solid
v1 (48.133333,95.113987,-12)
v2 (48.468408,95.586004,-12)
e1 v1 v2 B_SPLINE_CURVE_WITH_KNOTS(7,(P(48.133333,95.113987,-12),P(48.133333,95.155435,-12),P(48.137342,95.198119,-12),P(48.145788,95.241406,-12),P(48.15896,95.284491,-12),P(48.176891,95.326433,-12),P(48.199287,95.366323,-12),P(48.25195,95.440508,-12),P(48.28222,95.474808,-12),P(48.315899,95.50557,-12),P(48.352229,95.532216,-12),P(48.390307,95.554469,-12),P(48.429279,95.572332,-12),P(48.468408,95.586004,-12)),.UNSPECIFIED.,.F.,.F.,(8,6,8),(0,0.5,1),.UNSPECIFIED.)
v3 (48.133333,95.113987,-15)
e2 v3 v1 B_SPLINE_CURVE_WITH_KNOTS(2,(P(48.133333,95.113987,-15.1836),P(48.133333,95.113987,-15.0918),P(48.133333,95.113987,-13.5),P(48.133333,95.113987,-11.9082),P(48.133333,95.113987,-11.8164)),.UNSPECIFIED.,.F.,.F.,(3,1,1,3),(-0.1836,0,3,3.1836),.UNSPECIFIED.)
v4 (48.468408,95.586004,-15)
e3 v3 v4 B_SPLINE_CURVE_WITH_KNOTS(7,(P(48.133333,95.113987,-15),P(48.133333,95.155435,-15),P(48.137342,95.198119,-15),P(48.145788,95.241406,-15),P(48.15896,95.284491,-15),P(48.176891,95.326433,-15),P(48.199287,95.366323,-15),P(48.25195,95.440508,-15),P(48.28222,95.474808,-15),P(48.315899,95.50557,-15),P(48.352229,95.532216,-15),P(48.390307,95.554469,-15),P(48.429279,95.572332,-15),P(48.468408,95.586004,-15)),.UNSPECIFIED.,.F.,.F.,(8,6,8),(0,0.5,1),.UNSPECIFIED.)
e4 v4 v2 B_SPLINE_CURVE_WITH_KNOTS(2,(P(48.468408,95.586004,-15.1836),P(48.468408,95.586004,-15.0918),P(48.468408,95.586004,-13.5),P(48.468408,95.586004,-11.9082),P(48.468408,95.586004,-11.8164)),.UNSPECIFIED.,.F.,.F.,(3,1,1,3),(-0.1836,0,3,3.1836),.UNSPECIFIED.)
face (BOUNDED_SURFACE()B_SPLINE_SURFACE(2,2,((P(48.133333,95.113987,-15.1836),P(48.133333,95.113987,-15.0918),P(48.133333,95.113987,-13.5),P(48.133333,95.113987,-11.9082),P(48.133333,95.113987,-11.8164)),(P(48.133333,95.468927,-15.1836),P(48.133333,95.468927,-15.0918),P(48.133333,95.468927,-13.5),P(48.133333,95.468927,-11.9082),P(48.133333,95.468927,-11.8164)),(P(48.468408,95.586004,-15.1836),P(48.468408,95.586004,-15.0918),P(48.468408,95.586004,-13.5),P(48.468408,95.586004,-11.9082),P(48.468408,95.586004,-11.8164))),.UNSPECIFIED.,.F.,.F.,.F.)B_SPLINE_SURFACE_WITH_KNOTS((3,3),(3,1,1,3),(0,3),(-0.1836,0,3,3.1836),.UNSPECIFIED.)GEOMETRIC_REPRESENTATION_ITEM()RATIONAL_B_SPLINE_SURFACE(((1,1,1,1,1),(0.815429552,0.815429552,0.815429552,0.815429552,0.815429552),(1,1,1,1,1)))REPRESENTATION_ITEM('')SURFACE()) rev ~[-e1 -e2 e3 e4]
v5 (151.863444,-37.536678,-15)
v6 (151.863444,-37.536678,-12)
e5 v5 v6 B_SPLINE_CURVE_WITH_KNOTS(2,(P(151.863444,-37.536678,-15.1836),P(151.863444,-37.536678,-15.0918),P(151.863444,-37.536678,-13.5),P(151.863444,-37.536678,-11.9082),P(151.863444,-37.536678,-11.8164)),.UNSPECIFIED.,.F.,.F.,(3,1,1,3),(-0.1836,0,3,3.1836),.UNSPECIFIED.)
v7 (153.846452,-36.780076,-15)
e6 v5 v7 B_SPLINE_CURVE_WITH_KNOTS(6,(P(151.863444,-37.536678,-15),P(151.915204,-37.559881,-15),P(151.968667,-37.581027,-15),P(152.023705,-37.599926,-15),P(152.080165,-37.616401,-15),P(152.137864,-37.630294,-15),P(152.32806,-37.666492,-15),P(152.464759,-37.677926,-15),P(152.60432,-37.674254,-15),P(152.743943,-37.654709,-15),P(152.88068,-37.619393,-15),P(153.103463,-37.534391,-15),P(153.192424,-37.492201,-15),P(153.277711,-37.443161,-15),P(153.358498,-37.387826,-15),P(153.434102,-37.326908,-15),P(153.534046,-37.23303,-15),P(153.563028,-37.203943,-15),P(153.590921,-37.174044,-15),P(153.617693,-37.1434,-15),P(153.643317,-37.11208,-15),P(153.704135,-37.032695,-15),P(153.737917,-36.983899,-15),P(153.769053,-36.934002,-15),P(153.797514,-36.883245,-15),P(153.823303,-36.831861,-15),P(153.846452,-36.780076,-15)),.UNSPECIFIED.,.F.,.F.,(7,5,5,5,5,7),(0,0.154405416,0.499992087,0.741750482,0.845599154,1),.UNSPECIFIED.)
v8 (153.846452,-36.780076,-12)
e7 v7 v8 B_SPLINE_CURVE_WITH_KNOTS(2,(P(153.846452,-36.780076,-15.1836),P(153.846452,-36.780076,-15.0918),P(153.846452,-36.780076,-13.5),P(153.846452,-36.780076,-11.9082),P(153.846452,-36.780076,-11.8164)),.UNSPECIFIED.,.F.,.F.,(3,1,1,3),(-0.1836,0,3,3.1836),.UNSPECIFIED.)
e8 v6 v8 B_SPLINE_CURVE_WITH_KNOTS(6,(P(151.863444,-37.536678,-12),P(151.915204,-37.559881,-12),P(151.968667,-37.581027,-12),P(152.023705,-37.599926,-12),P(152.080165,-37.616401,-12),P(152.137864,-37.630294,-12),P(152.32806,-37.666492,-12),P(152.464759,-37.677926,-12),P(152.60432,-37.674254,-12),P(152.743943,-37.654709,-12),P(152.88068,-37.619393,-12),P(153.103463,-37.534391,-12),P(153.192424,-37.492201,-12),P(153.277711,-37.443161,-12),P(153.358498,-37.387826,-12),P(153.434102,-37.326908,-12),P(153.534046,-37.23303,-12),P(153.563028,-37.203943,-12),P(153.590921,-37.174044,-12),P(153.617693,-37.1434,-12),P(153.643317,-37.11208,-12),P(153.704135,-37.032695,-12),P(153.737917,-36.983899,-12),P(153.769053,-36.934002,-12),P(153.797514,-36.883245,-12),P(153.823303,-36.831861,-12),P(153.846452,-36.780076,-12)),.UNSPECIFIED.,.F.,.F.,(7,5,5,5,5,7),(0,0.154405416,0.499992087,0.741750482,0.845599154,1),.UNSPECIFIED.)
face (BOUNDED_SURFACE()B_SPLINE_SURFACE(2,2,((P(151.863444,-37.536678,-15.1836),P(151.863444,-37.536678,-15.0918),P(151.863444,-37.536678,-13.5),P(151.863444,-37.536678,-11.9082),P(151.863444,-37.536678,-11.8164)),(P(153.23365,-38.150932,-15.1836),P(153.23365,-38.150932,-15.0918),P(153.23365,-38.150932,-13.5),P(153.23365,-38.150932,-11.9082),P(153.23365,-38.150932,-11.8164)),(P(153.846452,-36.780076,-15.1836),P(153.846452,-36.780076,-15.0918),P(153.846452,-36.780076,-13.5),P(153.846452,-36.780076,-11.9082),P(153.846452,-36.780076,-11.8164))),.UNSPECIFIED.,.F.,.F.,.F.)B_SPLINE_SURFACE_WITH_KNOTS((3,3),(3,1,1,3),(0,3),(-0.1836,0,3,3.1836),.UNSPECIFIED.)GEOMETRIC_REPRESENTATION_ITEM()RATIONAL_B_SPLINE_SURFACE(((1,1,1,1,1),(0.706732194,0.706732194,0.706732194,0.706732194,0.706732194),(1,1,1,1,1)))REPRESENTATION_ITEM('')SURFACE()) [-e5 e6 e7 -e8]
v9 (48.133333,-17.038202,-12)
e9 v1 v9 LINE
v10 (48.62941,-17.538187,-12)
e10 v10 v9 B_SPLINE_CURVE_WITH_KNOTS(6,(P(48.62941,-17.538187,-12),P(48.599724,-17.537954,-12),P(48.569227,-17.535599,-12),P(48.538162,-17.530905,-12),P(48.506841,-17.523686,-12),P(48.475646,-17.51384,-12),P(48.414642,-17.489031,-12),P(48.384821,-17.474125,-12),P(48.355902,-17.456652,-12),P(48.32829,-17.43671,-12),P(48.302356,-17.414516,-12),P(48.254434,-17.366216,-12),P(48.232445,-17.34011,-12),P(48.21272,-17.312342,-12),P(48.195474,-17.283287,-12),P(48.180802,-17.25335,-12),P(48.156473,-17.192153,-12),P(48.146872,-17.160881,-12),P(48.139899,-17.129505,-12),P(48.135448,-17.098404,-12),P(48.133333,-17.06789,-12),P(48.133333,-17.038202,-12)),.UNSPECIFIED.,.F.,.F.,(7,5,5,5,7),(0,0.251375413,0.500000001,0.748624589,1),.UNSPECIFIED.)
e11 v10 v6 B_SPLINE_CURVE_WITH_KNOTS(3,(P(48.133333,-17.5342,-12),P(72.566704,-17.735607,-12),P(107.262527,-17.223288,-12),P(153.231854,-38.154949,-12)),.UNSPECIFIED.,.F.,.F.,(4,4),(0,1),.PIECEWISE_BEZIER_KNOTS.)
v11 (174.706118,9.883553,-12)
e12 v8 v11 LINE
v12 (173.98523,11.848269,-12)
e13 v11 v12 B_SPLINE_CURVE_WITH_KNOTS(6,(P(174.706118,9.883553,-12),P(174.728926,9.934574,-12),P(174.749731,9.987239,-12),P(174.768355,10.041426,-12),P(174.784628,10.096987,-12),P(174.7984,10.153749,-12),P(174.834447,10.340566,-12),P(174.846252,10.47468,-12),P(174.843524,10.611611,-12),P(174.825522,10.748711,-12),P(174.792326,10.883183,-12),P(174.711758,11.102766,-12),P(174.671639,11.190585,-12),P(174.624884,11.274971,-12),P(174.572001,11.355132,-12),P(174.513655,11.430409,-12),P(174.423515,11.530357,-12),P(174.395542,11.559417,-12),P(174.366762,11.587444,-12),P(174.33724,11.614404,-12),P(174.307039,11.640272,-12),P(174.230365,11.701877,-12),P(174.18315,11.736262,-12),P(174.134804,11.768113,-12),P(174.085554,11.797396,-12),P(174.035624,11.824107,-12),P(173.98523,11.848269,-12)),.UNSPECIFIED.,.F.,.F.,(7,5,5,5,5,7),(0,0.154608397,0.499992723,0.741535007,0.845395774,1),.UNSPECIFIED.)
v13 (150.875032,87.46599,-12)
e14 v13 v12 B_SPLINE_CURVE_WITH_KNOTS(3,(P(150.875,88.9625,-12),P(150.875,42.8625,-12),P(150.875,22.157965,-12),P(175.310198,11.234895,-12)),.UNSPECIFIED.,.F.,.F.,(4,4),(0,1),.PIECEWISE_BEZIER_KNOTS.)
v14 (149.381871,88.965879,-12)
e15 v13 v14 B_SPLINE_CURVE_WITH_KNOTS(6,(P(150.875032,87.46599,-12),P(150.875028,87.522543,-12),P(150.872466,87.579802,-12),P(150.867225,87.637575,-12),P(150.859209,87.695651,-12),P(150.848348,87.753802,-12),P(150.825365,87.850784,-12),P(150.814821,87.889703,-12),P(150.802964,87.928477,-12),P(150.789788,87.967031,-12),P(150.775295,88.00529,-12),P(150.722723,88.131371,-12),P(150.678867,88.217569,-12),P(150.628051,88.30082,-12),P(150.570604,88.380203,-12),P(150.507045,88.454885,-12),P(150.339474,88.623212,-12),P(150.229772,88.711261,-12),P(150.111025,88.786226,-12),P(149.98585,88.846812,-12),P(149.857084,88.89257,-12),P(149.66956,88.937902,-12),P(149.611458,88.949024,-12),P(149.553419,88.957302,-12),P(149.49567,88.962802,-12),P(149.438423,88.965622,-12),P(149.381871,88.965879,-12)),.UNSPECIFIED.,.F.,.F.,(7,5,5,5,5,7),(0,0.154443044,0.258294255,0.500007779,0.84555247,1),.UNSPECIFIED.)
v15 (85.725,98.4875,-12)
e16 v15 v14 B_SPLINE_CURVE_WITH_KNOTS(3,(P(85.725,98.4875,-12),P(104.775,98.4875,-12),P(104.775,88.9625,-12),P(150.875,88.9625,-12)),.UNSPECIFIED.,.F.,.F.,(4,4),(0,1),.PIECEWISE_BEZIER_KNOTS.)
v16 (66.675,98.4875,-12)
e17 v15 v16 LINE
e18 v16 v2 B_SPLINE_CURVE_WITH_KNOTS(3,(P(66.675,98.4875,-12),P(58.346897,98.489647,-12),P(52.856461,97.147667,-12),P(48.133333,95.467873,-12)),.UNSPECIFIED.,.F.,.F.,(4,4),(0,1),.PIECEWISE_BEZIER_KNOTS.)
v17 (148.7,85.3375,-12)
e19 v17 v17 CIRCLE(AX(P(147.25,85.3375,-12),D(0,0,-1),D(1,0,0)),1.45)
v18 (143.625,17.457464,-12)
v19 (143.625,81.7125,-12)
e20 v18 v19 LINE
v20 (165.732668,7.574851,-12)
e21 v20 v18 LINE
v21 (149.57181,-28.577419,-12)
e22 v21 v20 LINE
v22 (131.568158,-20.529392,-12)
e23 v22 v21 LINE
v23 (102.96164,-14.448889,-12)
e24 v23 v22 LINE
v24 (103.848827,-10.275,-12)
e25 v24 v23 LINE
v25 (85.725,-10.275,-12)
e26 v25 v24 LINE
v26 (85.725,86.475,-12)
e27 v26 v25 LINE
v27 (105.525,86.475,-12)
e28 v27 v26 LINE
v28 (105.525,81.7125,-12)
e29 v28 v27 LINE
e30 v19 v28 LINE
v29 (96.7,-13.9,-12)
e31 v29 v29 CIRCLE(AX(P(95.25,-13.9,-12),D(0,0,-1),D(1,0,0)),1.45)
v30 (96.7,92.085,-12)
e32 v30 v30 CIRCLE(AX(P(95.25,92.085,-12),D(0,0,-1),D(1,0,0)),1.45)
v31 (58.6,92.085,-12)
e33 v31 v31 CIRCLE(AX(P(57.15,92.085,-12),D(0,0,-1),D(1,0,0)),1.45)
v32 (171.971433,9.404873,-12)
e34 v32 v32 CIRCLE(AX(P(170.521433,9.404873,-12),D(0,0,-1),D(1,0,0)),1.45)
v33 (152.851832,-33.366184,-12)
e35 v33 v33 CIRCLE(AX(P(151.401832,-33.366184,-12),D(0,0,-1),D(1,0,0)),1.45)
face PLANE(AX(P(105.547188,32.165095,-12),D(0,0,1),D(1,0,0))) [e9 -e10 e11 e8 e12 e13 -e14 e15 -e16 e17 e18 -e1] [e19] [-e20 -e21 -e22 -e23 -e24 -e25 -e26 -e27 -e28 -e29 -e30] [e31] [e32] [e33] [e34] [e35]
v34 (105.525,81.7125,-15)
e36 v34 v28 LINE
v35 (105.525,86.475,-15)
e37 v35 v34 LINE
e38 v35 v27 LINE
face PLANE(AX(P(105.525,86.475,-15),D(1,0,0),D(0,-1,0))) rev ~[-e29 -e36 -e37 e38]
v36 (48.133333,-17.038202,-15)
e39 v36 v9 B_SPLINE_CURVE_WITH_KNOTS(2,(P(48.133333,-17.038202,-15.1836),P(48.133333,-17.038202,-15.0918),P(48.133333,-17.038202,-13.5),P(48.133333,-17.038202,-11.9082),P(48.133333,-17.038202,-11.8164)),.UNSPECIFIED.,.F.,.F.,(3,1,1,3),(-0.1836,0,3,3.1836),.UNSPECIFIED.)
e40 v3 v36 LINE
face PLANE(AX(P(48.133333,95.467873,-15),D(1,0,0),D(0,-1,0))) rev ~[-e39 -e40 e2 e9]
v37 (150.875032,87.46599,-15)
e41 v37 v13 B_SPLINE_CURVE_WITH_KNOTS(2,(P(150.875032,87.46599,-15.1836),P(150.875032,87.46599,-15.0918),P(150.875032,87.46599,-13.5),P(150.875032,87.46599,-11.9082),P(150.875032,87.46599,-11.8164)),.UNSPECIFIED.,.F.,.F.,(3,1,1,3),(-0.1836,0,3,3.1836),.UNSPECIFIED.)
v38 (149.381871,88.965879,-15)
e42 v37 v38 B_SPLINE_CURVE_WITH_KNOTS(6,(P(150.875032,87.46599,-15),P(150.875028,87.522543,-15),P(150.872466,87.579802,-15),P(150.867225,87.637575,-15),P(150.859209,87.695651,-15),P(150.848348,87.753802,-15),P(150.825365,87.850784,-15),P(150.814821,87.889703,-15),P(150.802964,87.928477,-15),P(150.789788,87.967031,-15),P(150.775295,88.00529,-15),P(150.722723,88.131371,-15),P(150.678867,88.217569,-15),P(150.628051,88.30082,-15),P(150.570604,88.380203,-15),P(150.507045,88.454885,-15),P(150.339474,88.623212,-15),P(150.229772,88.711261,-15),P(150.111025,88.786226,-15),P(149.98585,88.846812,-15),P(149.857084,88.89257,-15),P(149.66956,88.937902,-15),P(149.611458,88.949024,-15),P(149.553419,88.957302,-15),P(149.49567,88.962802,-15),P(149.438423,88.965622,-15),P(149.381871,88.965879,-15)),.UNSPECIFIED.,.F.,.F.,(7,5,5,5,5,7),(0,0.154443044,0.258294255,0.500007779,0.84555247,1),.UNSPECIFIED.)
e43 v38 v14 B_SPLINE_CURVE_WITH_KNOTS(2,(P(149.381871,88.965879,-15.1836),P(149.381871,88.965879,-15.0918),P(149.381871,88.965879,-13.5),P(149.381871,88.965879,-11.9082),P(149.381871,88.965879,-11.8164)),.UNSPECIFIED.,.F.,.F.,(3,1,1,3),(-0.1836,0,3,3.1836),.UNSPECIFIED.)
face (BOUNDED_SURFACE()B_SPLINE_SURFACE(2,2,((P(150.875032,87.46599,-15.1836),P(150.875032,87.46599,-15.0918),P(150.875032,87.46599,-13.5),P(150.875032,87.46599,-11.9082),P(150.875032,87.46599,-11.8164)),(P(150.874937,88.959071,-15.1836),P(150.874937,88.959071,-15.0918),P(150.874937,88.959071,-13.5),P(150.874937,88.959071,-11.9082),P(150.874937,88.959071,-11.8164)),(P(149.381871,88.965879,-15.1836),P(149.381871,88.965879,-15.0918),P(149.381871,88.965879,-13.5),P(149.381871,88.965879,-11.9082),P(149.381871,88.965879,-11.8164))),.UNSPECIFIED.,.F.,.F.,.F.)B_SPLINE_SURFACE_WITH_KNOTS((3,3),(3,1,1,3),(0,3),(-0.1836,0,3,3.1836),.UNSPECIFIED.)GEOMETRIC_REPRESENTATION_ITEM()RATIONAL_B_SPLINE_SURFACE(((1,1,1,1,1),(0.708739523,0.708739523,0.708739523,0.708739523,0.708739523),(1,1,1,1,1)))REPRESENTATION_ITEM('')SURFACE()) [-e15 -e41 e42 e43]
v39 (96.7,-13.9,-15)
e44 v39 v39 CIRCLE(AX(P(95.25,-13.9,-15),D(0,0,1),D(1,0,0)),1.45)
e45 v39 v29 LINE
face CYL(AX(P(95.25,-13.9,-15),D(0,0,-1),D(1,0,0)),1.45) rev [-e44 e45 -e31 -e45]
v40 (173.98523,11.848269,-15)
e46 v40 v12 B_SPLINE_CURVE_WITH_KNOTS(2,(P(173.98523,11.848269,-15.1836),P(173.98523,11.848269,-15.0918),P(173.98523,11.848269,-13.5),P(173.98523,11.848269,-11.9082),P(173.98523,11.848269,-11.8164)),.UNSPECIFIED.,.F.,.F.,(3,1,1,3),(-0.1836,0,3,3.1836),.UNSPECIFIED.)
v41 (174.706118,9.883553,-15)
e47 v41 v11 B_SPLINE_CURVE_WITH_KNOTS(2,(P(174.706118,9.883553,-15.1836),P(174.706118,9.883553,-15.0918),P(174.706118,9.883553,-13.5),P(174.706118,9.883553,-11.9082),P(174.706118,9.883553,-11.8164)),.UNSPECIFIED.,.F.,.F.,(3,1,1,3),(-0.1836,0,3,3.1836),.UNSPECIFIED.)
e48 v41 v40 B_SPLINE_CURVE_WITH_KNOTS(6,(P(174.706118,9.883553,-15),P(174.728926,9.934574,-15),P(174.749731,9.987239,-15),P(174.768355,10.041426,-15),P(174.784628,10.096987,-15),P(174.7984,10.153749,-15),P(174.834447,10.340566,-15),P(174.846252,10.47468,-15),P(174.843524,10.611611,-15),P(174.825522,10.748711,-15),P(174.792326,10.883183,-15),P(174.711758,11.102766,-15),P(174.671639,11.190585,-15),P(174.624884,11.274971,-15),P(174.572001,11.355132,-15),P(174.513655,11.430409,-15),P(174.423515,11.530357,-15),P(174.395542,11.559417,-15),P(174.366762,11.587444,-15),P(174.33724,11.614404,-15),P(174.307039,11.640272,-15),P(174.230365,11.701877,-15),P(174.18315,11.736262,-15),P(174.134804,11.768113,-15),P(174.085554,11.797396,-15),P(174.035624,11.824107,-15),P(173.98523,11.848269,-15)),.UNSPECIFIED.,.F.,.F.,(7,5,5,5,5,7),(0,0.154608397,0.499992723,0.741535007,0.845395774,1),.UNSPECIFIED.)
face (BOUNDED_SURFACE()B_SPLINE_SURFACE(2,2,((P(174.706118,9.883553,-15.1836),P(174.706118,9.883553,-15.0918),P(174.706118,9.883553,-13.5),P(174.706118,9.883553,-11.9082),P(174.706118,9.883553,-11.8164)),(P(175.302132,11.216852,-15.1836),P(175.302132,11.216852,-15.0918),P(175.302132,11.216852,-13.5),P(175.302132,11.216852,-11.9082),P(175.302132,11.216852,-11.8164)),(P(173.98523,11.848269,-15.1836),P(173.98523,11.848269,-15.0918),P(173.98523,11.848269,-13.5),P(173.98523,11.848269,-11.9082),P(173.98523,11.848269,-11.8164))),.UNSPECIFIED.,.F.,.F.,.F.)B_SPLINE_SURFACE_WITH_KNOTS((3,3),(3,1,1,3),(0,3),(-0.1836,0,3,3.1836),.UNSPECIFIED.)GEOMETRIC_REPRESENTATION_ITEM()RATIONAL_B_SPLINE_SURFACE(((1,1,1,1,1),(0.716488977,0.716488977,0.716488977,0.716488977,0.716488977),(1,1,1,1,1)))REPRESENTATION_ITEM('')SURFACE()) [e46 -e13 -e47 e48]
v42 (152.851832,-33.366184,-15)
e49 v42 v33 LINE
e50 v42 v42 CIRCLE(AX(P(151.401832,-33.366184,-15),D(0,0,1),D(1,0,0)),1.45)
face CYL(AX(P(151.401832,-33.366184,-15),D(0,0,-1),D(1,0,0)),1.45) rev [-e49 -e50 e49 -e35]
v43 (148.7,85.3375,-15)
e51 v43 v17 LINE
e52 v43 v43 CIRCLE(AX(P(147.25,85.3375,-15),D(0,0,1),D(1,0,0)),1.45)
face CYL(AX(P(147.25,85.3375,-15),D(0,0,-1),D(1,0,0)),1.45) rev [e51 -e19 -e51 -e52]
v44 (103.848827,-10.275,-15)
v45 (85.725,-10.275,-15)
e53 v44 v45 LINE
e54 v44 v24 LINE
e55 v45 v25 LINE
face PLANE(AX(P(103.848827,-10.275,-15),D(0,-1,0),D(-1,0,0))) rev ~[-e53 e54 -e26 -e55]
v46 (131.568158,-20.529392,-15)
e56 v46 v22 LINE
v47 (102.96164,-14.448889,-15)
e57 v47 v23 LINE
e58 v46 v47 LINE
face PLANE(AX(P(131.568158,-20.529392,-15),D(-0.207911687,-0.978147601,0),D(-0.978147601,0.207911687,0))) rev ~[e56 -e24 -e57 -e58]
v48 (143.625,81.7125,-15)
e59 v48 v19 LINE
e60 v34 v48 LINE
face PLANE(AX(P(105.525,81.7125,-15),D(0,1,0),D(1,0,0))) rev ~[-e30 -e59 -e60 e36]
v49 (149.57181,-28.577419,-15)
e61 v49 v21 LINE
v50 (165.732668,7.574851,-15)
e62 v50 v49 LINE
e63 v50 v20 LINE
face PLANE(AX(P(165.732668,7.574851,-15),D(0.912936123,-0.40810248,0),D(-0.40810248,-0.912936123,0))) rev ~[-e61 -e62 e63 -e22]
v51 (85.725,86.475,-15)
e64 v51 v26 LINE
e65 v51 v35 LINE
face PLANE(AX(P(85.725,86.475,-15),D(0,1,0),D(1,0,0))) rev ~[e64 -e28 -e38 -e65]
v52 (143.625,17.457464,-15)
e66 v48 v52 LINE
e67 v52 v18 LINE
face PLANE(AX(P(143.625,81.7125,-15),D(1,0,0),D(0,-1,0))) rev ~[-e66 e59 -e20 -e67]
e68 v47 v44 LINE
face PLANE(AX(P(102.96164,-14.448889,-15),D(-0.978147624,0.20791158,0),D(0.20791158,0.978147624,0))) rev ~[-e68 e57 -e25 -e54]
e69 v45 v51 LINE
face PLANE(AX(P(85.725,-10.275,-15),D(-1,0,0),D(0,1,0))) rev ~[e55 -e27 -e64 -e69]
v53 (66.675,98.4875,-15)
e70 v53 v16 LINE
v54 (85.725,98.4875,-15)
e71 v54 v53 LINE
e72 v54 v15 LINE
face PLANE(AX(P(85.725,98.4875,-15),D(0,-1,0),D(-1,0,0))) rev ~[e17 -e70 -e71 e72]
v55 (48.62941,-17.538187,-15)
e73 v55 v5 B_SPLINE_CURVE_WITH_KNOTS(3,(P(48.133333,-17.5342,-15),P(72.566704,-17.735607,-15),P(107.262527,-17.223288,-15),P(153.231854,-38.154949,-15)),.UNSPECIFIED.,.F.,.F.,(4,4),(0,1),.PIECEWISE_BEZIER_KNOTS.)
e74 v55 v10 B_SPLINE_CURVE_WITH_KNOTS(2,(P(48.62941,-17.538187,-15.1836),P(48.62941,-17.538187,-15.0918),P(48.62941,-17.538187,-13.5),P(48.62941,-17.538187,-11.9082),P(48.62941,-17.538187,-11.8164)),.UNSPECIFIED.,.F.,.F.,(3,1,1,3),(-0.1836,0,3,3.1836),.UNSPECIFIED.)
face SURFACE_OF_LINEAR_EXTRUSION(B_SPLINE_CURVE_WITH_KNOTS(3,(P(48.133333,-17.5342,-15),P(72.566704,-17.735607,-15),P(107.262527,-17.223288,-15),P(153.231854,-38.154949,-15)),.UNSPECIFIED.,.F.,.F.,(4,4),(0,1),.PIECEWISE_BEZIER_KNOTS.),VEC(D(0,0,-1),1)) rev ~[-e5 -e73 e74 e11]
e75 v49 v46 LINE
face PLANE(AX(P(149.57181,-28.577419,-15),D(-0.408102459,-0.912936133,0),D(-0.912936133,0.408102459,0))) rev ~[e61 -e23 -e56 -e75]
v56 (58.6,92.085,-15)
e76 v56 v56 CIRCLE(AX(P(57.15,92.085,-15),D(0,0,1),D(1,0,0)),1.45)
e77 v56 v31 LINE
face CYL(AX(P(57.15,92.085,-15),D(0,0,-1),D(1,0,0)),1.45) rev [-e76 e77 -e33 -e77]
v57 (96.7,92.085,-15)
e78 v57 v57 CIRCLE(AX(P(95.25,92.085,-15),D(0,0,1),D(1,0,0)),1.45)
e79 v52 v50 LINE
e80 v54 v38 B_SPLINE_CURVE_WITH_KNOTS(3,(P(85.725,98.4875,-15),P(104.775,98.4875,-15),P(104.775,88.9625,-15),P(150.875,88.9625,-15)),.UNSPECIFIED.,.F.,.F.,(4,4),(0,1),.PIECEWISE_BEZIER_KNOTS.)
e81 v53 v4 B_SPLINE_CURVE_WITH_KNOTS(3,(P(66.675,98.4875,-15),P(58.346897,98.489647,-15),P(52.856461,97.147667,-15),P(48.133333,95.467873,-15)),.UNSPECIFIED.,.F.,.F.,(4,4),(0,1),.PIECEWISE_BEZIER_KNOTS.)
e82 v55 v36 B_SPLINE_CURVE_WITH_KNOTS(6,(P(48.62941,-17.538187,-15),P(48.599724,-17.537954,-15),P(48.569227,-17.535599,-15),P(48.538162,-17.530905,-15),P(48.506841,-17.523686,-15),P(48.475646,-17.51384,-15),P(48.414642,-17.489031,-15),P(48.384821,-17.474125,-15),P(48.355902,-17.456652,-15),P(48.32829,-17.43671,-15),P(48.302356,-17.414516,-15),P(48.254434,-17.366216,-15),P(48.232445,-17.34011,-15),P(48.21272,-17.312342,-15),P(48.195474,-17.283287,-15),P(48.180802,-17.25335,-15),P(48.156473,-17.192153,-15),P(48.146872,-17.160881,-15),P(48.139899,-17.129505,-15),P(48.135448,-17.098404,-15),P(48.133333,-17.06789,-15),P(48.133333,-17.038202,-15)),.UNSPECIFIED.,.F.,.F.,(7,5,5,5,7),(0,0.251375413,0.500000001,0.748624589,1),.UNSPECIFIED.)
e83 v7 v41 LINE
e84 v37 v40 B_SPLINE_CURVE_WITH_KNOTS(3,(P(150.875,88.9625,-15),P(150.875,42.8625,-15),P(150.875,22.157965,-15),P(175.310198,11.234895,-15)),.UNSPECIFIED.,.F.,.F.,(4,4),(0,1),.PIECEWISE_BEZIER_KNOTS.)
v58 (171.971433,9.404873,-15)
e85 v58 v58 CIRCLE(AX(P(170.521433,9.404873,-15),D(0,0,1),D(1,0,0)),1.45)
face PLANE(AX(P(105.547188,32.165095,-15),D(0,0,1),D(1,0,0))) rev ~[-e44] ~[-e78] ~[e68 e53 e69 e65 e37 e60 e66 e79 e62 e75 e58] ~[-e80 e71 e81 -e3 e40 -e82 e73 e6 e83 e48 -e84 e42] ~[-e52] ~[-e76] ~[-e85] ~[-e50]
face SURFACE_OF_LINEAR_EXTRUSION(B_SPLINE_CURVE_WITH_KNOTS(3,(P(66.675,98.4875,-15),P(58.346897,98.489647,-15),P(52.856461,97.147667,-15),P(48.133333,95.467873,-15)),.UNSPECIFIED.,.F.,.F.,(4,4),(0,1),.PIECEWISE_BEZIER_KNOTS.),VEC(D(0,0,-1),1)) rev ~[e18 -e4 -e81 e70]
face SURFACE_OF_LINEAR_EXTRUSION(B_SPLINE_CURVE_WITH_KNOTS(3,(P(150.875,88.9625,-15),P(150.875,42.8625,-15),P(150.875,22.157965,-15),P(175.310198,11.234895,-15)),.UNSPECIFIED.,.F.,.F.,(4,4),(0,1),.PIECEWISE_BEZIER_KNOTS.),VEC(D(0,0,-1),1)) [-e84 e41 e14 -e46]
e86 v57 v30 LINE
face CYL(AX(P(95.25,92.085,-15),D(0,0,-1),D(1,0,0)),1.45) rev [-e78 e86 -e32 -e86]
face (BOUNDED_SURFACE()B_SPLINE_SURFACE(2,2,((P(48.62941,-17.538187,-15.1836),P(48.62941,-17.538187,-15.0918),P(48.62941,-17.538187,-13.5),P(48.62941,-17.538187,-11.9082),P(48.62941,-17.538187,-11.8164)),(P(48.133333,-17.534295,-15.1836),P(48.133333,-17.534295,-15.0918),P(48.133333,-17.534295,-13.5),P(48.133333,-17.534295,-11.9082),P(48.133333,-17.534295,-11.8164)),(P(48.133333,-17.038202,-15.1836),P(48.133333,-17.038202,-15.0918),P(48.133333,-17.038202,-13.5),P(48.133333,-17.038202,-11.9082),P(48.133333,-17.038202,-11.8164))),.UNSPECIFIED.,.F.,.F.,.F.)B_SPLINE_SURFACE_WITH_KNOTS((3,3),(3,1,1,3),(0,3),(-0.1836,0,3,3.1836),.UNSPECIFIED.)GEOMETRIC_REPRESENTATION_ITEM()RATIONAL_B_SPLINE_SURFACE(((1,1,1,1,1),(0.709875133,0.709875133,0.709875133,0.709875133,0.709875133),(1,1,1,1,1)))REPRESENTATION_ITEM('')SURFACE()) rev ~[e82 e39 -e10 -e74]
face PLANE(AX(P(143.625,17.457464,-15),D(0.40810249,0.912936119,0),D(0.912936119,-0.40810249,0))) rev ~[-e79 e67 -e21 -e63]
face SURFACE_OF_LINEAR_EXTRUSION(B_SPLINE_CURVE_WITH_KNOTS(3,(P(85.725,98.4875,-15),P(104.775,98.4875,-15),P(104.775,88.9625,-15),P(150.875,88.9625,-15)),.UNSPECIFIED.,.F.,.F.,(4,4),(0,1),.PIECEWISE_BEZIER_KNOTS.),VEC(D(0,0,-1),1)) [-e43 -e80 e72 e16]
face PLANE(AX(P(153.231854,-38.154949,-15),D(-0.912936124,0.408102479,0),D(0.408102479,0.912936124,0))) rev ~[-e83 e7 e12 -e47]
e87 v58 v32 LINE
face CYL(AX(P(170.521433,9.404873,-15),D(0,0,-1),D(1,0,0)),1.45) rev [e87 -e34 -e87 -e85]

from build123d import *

# Parameters (mm, degrees)
PAD009_DEPTH    = 3
POCKET012_DEPTH = 5
SKETCH044_R     = 1.45
POCKET016_DEPTH = 22
FILLET007_R     = 1.5
FILLET015_R     = 0.5


with BuildPart() as part:
    # Sketch032 → Pad009 (new body)
    with BuildSketch(Plane.XY):
        with BuildLine():
            add(Edge.make_bspline(
                [(48.133333, -17.5342), (72.566704, -17.735607), (107.262527, -17.223288), (153.231854, -38.154949)],
                knots=[0, 0, 0, 0, 1, 1, 1, 1], degree=3))
            Line((153.231854, -38.154949), (175.310198, 11.234895))
            add(Edge.make_bspline(
                [(150.875, 88.9625), (150.875, 42.8625), (150.875, 22.157965), (175.310198, 11.234895)],
                knots=[0, 0, 0, 0, 1, 1, 1, 1], degree=3))
            add(Edge.make_bspline(
                [(85.725, 98.4875), (104.775, 98.4875), (104.775, 88.9625), (150.875, 88.9625)],
                knots=[0, 0, 0, 0, 1, 1, 1, 1], degree=3))
            Line((85.725, 98.4875), (66.675, 98.4875))
            add(Edge.make_bspline(
                [(66.675, 98.4875), (58.346897, 98.489647), (52.856461, 97.147667), (48.133333, 95.467873)],
                knots=[0, 0, 0, 0, 1, 1, 1, 1], degree=3))
            Line((48.133333, 95.467873), (48.133333, -17.5342))
        make_face()
    extrude(amount=PAD009_DEPTH)

    # Sketch033 → Pocket012 (cut)
    with BuildSketch(Plane(origin=(0, 0, 0), x_dir=(1, 0, 0), z_dir=(0, 0, -1))):
        Polygon((85.725, -86.475), (105.525, -86.475), (105.525, -81.7125), (143.625, -81.7125), (143.625, -17.457464), (165.732668, -7.574851), (149.57181, 28.577419), (131.568158, 20.529392), (102.96164, 14.448889), (103.848827, 10.275), (85.725, 10.275), align=None)
    extrude(amount=-POCKET012_DEPTH, mode=Mode.SUBTRACT)

    # Sketch044 → Pocket016 (cut)
    with BuildSketch(Plane.XY):
        with Locations((-4.375, -4.375)):
            Circle(SKETCH044_R)
        with Locations((-4.375, 80.575)):
            Circle(SKETCH044_R)
        with Locations((151.401832, -33.366184)):
            Circle(SKETCH044_R)
        with Locations((170.521433, 9.404873)):
            Circle(SKETCH044_R)
        with Locations((147.25, 85.3375)):
            Circle(SKETCH044_R)
        with Locations((43.25, -13.9)):
            Circle(SKETCH044_R)
        with Locations((57.15, 92.085)):
            Circle(SKETCH044_R)
        with Locations((95.25, 92.085)):
            Circle(SKETCH044_R)
        with Locations((95.25, -13.9)):
            Circle(SKETCH044_R)
    extrude(amount=POCKET016_DEPTH, mode=Mode.SUBTRACT)

    # Fillet007
    fillet007_edges = [part.edges().sort_by_distance(p)[0] for p in [
        (153.231854, -38.154949, 1.5),
        (175.310198, 11.234895, 1.5),
        (150.875, 88.9625, 1.5),
    ]]
    fillet(fillet007_edges, radius=FILLET007_R)

    # Fillet015
    fillet015_edges = [part.edges().sort_by_distance(p)[0] for p in [
        (48.133333, -17.5342, 1.5),
        (48.133333, 95.467873, 1.5),
    ]]
    fillet(fillet015_edges, radius=FILLET015_R)


with BuildPart() as part_1:
    # Body008 placement: moved
    add(part.part.moved(Location((0, 0, -15))))


solid = part_1.part
